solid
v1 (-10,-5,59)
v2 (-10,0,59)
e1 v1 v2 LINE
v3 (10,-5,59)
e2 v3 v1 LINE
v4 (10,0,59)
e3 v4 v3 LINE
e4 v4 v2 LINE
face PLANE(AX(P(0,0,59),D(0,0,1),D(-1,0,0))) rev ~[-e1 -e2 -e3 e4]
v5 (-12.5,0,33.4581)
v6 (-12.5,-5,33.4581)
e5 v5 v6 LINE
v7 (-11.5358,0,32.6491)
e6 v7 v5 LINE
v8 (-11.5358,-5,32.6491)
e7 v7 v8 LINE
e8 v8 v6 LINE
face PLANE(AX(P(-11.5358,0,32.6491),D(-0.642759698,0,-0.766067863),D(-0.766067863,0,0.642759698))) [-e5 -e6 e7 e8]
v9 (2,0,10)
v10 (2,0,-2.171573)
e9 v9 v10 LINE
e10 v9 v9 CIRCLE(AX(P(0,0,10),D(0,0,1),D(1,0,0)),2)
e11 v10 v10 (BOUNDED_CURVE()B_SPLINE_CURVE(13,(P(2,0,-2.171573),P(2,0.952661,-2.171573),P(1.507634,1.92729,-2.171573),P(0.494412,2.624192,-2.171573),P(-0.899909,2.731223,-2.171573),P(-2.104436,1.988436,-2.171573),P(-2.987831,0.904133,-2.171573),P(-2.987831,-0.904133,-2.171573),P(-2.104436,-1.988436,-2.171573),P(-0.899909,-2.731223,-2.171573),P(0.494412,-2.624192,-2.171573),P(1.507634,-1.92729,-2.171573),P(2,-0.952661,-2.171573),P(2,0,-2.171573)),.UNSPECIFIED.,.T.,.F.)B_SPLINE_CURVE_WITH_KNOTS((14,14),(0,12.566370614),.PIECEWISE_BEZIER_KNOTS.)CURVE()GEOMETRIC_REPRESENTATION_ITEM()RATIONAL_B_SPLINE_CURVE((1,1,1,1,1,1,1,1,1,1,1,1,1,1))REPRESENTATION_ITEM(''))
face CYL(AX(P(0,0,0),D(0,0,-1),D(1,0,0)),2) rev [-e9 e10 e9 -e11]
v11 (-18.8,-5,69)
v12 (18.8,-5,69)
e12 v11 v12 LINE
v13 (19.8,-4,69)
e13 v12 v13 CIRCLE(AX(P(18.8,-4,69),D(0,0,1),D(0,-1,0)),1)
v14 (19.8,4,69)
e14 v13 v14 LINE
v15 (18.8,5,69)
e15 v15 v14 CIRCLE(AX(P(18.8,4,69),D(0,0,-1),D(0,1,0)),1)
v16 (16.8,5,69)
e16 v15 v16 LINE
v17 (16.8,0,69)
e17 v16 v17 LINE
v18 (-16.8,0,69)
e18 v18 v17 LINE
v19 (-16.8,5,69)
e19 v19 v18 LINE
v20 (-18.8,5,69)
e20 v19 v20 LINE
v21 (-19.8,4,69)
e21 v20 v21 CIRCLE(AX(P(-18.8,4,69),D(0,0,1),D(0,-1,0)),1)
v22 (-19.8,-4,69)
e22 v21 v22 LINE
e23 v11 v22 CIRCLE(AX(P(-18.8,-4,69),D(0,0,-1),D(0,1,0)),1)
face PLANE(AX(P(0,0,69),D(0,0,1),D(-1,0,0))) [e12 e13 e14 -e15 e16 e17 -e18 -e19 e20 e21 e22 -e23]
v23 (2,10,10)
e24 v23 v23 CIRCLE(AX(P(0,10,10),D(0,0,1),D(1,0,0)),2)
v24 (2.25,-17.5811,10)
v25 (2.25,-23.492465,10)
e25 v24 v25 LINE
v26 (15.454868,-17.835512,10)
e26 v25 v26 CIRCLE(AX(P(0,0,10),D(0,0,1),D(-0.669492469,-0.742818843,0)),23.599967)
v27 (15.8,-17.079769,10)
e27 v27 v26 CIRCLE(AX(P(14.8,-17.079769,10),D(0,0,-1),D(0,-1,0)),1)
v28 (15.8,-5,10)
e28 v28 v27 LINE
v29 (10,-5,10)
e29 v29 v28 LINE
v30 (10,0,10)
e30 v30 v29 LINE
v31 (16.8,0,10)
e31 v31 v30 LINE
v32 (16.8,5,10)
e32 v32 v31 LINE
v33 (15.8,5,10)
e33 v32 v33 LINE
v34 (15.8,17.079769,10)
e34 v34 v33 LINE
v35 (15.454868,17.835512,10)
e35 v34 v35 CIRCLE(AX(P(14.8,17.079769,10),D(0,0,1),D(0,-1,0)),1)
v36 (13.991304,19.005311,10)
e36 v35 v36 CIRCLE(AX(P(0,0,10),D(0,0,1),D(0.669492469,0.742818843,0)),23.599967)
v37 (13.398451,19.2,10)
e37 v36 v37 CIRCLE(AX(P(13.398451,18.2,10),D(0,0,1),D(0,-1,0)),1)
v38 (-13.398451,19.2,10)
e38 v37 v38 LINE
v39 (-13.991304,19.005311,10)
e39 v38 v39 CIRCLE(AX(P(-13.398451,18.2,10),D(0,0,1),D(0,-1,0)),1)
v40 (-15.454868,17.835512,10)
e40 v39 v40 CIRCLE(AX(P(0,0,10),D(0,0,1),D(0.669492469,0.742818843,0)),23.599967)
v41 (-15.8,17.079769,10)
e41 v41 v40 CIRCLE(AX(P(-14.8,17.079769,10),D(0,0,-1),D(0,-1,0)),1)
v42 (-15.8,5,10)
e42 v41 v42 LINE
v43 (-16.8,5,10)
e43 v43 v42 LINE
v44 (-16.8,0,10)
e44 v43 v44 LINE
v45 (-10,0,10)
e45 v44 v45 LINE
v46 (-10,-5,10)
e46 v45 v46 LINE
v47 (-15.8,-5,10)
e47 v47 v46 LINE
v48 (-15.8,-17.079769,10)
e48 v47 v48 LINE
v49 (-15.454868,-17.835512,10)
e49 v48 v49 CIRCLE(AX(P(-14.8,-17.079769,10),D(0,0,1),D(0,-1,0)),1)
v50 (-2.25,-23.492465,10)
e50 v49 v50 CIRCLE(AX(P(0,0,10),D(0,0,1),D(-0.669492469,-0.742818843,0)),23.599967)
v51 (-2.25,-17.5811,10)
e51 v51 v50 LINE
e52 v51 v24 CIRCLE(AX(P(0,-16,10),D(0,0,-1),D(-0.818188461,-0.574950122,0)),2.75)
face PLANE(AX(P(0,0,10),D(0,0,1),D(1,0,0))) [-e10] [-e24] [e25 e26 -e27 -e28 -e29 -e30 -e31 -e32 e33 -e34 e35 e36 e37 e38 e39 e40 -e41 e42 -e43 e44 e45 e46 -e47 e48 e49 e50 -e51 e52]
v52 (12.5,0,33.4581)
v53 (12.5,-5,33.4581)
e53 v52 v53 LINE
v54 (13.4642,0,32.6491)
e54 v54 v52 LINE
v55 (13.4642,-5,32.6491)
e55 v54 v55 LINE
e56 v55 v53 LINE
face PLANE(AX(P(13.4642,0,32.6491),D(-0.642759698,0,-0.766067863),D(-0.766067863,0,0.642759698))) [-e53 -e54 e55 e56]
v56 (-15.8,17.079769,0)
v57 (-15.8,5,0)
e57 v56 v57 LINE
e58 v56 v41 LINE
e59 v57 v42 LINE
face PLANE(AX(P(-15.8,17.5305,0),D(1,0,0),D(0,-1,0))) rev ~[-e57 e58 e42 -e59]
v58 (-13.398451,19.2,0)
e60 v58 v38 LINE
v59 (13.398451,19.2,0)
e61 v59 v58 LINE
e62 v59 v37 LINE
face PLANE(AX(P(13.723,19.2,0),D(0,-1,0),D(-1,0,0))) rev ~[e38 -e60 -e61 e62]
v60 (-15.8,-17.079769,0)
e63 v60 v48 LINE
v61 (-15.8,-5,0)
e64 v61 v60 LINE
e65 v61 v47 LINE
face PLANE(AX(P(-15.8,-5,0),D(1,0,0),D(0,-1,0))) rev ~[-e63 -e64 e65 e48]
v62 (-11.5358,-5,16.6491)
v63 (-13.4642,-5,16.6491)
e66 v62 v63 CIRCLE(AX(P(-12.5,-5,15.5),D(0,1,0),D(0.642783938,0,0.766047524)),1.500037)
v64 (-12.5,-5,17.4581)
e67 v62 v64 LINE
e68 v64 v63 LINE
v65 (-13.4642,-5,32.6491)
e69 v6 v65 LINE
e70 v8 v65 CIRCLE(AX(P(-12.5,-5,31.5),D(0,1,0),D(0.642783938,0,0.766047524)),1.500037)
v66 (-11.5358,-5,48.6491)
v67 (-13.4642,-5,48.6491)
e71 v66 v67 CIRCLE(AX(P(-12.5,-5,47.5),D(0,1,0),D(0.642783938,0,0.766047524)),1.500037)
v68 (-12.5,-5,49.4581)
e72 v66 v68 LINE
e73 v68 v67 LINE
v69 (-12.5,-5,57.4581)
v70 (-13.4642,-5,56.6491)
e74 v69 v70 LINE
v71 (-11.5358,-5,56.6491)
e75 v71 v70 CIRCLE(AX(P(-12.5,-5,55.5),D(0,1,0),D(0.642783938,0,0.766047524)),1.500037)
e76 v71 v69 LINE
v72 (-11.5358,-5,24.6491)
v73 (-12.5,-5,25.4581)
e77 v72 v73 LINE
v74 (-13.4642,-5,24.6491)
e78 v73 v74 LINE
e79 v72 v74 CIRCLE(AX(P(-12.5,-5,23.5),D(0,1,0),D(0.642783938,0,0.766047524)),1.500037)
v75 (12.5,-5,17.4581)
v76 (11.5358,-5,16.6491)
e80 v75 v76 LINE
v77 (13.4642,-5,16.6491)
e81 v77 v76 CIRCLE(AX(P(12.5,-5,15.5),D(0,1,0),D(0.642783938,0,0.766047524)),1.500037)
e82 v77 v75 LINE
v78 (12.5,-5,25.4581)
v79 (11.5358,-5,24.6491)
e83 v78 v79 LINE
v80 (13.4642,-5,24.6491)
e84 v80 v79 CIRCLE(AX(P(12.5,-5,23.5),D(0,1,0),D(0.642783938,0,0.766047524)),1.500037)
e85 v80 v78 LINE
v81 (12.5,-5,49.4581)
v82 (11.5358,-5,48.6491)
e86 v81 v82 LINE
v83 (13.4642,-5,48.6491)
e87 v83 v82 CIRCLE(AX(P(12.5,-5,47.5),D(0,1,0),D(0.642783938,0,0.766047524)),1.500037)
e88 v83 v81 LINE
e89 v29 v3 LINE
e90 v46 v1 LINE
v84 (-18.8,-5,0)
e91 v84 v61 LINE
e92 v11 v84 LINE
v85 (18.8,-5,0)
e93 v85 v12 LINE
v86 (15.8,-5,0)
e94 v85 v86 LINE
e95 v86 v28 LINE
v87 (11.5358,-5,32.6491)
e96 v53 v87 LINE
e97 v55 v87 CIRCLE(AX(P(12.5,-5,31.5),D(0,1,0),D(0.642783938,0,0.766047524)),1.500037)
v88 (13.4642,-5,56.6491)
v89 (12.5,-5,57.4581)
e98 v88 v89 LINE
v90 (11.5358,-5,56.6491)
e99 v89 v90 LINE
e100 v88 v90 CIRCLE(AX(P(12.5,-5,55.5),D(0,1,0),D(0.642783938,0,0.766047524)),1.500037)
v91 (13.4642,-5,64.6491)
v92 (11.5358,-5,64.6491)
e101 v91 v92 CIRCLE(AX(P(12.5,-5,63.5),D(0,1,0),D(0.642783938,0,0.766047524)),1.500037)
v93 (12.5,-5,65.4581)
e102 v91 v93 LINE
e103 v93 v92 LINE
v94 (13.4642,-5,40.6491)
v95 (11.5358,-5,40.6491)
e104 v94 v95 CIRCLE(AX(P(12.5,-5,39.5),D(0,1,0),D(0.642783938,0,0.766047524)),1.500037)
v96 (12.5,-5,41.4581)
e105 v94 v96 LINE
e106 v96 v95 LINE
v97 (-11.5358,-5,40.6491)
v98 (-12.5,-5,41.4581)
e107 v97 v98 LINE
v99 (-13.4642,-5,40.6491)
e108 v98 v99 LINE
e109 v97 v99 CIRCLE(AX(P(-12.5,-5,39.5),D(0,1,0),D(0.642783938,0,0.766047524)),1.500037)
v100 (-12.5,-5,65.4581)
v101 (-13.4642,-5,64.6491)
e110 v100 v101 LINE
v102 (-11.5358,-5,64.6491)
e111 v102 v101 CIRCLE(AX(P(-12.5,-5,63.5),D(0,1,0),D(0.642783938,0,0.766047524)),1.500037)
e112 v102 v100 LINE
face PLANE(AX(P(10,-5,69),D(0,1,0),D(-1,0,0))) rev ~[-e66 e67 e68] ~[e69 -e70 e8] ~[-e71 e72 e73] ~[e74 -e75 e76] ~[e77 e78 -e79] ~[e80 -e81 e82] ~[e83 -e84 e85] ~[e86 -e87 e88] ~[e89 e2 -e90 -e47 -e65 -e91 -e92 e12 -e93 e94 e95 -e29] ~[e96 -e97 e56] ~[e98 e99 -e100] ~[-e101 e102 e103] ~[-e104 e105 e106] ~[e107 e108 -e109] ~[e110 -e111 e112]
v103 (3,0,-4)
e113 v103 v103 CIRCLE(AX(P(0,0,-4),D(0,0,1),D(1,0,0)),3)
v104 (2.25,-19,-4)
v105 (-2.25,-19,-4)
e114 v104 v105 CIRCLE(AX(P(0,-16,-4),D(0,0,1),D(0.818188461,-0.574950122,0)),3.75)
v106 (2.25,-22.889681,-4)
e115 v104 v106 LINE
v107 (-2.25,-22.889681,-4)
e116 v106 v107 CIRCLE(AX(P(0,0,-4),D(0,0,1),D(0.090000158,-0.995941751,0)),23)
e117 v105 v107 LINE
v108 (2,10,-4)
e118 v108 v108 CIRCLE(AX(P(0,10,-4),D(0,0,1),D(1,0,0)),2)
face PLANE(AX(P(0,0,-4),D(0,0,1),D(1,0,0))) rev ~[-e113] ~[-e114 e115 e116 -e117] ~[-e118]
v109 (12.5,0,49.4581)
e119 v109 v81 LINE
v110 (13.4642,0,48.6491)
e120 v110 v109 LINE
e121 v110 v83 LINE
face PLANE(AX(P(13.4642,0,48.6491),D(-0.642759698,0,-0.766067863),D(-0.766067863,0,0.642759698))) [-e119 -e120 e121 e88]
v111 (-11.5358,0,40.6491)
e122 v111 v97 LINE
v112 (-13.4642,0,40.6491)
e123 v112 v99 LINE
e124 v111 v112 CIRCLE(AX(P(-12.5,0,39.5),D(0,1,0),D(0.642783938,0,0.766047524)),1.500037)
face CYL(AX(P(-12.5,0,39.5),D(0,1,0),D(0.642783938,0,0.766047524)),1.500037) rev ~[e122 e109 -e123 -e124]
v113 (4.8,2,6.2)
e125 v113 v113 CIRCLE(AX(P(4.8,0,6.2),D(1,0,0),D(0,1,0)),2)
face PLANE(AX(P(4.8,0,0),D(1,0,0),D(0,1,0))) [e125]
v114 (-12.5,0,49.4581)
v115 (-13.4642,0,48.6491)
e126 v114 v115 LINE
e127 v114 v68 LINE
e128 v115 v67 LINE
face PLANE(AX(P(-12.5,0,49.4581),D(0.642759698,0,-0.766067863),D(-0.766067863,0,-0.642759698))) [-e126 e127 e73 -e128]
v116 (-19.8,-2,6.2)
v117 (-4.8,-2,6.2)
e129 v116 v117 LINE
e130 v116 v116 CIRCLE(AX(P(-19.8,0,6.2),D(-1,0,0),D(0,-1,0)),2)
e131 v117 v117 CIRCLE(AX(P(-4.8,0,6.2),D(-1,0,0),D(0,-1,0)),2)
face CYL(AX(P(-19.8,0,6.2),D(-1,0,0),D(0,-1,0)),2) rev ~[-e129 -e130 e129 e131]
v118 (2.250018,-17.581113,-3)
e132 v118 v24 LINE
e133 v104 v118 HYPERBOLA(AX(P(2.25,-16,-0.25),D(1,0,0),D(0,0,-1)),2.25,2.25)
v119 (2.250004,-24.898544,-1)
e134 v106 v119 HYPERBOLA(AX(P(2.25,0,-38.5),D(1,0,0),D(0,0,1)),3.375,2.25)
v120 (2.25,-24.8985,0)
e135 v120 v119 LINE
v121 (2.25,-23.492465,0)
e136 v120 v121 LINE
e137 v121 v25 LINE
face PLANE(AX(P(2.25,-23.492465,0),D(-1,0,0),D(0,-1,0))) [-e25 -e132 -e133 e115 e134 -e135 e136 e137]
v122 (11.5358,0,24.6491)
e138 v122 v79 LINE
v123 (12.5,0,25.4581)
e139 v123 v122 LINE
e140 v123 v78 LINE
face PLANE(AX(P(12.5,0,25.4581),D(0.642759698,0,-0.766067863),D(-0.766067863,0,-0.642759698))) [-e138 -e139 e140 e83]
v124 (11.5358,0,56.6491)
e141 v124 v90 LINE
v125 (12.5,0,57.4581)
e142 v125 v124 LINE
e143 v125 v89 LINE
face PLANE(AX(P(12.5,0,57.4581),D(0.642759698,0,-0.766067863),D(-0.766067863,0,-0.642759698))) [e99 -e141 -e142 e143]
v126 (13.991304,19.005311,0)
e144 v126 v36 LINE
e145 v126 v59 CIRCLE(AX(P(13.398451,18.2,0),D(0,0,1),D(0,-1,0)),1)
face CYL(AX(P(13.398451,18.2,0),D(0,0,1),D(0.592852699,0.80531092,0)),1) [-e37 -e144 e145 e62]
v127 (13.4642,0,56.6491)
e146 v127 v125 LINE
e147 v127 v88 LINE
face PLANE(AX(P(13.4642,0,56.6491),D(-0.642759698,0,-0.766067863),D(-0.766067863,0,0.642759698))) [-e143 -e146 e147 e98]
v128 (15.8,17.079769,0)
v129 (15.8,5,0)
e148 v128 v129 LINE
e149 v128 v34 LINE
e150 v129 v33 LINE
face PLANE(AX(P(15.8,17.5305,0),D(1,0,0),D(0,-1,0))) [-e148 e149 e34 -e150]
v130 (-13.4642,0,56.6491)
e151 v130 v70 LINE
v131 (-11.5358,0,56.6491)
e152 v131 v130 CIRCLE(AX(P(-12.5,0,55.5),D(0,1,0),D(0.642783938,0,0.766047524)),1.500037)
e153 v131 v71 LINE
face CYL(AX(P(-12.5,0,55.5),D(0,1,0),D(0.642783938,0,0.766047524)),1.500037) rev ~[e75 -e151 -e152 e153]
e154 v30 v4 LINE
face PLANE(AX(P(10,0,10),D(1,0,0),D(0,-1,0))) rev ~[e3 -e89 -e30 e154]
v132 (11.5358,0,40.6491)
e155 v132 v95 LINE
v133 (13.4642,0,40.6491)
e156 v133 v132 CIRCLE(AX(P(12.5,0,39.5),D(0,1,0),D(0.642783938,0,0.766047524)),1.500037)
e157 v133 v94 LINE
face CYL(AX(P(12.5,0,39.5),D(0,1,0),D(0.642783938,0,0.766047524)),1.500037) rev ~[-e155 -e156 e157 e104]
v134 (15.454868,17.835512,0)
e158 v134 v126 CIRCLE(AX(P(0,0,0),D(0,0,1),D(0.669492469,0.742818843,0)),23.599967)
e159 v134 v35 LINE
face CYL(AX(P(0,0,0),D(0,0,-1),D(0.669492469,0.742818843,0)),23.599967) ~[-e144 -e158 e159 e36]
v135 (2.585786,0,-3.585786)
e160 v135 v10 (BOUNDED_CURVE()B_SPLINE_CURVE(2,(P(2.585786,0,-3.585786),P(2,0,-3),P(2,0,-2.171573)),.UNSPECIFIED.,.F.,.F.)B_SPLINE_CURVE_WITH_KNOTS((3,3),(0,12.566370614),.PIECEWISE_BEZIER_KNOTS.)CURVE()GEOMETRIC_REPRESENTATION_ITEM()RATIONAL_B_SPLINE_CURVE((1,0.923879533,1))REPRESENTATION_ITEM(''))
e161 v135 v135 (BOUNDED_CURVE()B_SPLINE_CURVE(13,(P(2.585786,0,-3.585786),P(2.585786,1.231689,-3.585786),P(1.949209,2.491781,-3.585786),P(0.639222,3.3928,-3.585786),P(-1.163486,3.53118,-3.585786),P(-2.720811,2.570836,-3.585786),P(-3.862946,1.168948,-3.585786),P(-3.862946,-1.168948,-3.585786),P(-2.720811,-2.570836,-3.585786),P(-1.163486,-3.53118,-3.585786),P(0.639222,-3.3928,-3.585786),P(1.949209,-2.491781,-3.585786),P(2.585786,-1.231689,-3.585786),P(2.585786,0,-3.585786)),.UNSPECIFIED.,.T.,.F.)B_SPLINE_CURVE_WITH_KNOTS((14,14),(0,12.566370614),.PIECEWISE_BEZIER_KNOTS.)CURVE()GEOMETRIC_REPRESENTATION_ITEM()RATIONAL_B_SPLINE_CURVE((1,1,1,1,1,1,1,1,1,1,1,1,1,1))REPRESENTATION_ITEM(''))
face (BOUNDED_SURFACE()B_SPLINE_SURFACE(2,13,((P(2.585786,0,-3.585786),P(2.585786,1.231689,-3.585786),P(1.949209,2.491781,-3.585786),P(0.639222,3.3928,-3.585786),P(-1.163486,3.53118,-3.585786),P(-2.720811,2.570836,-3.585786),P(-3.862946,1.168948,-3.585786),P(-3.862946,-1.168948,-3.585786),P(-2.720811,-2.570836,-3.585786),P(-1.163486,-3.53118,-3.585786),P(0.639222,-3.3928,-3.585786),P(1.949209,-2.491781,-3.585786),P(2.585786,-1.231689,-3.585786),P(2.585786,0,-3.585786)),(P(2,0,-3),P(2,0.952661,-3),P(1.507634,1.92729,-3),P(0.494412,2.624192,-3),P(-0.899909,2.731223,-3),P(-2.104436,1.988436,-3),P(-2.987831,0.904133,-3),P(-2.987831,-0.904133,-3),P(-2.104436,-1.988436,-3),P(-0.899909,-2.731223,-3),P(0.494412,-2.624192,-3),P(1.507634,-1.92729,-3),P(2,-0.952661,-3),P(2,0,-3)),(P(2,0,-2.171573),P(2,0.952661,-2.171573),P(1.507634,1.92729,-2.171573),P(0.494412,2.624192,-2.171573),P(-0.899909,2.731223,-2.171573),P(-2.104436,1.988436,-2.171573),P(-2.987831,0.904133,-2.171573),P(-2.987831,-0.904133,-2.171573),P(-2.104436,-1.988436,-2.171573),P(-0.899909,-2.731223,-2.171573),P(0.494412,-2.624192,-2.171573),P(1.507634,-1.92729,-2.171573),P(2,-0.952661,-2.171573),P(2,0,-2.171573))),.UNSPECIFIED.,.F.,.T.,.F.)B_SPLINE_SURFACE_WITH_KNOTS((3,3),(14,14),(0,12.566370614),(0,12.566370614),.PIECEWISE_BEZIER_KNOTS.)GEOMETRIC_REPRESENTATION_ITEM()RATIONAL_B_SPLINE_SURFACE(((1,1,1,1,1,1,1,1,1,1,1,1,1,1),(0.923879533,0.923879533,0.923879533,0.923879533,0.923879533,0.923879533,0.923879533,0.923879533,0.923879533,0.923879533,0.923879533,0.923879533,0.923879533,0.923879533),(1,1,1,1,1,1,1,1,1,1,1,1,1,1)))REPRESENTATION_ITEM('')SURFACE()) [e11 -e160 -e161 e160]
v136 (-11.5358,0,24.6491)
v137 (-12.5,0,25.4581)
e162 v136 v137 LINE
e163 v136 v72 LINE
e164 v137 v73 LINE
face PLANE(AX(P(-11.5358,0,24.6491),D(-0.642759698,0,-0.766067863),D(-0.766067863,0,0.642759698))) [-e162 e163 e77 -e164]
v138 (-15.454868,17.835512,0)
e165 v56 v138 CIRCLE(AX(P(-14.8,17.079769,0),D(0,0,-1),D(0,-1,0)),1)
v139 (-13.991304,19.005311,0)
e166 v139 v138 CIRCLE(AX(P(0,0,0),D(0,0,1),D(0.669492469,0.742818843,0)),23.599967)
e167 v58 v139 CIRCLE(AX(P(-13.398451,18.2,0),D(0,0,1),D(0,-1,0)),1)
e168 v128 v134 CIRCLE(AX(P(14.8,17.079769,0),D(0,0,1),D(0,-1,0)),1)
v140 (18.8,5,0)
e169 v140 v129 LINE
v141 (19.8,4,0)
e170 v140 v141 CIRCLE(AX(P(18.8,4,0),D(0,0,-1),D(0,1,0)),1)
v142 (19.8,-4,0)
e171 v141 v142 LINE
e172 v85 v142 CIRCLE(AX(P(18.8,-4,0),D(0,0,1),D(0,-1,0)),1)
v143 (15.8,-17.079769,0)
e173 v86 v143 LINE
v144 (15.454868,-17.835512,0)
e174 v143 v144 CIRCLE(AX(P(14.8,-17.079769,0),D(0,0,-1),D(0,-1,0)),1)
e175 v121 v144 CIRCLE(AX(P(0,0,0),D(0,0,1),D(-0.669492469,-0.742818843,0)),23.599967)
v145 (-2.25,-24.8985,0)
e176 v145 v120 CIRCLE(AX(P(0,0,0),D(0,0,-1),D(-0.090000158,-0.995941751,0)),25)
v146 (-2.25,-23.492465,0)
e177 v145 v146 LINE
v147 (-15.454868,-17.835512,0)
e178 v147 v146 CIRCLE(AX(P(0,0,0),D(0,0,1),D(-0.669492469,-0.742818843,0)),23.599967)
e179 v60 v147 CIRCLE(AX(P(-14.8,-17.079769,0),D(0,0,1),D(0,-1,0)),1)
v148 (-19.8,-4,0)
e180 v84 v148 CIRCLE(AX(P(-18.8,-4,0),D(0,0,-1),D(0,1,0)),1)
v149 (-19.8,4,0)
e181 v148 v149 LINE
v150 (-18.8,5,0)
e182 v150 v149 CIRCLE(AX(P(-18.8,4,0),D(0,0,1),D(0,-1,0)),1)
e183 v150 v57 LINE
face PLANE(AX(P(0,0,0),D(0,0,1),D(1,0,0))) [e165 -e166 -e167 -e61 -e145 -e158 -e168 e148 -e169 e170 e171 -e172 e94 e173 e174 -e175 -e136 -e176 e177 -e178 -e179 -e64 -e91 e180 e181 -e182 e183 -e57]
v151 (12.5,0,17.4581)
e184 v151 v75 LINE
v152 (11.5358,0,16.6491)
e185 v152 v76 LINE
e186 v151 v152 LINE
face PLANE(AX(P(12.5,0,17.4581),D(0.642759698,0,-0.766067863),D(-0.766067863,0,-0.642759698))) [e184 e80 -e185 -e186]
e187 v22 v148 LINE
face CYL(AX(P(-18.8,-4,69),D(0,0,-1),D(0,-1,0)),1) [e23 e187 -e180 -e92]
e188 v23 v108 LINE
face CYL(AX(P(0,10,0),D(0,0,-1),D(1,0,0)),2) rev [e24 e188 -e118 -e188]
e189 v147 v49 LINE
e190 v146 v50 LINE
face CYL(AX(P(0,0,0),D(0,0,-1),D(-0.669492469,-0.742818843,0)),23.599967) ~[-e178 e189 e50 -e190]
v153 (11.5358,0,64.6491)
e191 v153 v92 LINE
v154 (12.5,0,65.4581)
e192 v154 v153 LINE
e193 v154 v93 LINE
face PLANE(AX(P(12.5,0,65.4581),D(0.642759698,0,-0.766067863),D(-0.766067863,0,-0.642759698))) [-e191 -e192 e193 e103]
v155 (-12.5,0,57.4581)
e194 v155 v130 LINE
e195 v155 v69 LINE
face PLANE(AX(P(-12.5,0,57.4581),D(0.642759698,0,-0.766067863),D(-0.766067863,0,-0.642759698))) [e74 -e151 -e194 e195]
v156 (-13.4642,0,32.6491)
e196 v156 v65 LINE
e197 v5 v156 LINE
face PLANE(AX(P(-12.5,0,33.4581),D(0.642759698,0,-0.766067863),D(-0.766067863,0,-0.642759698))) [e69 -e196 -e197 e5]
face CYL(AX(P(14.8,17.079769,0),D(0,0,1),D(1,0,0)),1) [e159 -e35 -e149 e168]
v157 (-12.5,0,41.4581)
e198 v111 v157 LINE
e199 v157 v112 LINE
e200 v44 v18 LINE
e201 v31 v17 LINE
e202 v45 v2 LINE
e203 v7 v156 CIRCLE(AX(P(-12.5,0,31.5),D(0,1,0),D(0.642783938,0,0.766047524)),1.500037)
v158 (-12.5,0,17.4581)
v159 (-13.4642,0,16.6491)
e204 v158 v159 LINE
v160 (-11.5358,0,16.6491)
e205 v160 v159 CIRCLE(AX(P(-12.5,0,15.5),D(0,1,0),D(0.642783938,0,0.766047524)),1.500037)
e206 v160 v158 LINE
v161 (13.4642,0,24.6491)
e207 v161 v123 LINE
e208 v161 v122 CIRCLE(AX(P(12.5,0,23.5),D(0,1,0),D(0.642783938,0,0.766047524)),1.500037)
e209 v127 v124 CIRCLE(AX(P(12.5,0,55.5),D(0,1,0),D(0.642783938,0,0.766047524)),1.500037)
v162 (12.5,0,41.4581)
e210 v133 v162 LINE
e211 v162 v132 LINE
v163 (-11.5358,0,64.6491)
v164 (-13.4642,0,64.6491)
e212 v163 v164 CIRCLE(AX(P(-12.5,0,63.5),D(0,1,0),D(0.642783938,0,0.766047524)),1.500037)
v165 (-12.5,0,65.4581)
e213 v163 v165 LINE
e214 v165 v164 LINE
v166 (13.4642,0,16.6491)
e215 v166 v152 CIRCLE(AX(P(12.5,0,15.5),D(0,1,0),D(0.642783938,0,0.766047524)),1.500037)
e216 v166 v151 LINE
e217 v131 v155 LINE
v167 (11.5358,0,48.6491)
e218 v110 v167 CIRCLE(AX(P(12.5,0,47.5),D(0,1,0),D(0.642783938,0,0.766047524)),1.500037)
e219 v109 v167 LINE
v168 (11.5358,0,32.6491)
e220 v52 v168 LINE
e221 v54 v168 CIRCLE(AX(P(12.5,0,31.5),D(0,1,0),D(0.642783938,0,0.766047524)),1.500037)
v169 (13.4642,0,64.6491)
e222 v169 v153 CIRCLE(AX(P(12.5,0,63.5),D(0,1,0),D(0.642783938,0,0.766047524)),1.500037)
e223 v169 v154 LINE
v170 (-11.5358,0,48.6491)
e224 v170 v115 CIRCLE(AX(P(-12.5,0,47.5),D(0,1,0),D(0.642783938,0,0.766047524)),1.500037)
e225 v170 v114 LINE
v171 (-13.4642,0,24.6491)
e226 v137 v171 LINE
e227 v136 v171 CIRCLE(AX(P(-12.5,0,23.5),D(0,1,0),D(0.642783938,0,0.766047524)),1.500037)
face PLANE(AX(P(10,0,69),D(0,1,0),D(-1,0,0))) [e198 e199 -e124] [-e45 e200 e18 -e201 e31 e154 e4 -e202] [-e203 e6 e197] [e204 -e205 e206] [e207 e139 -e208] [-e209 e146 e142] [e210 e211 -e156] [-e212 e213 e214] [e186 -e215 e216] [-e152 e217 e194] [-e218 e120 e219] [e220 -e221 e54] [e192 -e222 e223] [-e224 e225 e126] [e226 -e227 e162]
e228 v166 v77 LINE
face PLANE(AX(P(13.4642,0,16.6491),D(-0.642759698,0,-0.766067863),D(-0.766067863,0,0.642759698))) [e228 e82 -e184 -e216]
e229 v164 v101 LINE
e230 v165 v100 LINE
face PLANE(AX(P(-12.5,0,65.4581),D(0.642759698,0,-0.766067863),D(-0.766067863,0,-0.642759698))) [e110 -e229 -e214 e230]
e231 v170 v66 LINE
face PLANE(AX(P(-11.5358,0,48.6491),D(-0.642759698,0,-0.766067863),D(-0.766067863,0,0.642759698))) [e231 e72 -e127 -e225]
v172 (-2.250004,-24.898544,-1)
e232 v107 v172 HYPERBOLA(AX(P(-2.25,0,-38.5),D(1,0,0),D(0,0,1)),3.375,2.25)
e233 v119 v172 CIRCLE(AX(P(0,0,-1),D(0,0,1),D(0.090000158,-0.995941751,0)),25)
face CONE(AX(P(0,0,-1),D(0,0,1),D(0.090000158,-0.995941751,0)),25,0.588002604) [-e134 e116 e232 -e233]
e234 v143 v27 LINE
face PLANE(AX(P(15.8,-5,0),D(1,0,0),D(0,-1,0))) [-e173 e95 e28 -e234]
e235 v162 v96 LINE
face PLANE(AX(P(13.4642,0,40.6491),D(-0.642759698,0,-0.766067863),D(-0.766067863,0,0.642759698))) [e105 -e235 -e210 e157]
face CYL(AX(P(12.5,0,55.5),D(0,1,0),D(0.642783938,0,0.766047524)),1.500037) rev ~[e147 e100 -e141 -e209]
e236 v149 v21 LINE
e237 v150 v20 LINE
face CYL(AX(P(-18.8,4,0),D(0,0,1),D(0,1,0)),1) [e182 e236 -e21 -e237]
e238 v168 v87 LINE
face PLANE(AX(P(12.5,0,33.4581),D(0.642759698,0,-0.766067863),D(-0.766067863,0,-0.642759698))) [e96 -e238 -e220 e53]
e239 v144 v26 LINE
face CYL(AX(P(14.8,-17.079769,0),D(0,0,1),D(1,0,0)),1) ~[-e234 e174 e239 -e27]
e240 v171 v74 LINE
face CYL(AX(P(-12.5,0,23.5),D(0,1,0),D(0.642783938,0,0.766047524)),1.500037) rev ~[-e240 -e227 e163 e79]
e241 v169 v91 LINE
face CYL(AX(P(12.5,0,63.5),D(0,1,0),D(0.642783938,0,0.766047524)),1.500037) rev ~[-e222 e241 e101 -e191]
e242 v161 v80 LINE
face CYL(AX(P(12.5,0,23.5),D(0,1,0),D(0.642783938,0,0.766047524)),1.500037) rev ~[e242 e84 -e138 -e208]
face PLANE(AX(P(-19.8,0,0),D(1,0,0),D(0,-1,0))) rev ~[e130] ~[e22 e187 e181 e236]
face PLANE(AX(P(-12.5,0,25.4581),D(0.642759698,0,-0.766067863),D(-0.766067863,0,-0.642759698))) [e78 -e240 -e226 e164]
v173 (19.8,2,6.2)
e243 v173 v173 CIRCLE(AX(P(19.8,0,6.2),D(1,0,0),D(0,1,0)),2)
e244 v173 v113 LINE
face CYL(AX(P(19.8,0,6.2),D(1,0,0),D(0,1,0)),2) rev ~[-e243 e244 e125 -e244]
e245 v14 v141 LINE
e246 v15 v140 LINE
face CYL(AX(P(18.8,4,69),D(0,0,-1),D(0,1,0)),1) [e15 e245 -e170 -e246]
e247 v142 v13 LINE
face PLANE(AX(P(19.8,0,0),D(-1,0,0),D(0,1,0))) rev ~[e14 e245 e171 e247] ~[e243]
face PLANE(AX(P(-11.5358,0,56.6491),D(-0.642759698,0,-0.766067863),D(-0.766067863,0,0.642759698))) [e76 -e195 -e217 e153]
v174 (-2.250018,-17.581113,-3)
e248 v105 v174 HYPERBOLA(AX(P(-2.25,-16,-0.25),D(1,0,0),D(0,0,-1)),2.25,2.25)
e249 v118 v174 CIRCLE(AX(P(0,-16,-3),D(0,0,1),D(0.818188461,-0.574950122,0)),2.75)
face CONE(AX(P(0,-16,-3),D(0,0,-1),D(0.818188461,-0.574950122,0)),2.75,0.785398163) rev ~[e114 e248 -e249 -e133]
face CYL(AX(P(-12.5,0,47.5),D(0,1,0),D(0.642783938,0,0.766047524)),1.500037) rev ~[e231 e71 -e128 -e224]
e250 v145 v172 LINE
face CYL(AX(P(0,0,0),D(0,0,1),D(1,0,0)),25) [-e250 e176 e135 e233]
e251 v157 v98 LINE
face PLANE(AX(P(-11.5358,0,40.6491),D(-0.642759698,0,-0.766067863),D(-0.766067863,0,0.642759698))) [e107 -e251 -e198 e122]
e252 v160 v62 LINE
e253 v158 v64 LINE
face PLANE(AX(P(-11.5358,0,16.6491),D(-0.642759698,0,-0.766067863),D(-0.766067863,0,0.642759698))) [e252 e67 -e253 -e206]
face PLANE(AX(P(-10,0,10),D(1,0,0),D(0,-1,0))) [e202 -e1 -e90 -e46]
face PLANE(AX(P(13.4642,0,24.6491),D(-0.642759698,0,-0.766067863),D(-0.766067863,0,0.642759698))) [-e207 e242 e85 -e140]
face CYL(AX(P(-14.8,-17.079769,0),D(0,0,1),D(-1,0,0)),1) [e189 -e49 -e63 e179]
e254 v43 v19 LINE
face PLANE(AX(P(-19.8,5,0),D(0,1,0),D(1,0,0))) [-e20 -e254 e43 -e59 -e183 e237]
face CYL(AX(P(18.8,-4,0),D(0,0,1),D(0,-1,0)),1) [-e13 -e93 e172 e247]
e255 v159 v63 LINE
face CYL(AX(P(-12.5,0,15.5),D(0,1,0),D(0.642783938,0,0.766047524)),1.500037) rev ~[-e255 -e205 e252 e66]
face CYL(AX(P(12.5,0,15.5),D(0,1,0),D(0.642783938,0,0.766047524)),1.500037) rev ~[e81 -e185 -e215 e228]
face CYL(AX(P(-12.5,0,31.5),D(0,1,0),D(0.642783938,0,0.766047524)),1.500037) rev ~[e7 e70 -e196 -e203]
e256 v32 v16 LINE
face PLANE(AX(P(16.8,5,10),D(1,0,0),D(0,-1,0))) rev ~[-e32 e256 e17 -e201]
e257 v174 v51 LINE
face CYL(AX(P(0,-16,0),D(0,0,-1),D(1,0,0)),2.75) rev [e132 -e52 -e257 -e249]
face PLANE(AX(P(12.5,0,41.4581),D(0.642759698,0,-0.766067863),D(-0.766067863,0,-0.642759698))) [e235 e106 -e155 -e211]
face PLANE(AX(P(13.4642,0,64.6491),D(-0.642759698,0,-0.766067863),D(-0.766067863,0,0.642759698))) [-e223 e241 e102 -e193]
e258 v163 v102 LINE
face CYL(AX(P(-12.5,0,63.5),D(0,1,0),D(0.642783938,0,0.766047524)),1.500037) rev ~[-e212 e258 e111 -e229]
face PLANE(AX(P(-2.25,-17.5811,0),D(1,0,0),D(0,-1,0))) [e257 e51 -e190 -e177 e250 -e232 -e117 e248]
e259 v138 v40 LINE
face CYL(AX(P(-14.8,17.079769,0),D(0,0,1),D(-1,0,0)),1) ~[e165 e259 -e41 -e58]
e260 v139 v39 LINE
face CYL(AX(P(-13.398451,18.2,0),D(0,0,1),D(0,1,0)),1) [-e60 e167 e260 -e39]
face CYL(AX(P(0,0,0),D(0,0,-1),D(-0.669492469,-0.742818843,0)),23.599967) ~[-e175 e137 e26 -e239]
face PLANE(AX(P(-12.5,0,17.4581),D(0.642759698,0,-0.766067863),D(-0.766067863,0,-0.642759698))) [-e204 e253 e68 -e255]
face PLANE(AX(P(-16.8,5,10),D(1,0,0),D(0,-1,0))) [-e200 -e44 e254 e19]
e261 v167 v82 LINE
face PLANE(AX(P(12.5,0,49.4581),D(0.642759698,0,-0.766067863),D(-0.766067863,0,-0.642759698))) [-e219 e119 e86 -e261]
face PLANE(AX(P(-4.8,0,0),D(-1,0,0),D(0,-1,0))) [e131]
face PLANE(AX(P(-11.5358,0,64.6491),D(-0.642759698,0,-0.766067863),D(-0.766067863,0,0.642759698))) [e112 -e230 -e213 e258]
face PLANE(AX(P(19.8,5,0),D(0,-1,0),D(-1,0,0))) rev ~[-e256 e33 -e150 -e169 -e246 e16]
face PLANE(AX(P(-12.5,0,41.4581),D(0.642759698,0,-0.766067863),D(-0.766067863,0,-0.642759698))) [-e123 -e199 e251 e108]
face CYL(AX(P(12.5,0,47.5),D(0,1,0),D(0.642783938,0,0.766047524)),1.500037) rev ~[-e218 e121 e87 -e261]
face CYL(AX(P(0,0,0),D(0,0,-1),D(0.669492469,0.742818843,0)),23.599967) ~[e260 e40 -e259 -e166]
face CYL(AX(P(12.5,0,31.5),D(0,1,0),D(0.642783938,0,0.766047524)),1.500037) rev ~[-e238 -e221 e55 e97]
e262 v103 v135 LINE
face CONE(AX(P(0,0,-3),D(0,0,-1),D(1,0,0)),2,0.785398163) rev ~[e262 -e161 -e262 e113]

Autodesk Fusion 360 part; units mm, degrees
sketch "Schizzo1" plane through (0, 0, 0) normal (0, 0, 1) x (1, 0, 0)
  circle A0 centre (0, 0) radius 25
  line L0 (0, 0) -> (0, 25) construction
  line L1 (0, 0) -> (0, -25) construction
  line L2 (-15.8, 19.3742) -> (-15.8, 17.5305) construction
  line L3 (-15.8, 17.5305) -> (-15.8, -17.5305)
  line L4 (-15.8, -17.5305) -> (-15.8, -19.3742) construction
  line L5 (15.8, 19.3742) -> (15.8, 17.5305) construction
  line L6 (15.8, 17.5305) -> (15.8, -17.5305)
  line L7 (15.8, -17.5305) -> (15.8, -19.3742) construction
  arc A1 (15.8, 17.5305) -> (-15.8, 17.5305) centre (0, 0) ccw
  arc A2 (-15.8, -17.5305) -> (15.8, -17.5305) centre (0, 0) ccw
  line L8 (-15.8, 0) -> (-19.8, 0) construction
  line L9 (15.8, 0) -> (19.8, 0) construction
  line L10 (-19.8, 0) -> (-19.8, 5)
  line L11 (-19.8, 5) -> (-15.8, 5)
  line L12 (-19.8, 0) -> (-19.8, -5)
  line L13 (-19.8, -5) -> (-15.8, -5)
  line L14 (19.8, 0) -> (19.8, 5)
  line L15 (19.8, 5) -> (15.8, 5)
  line L16 (19.8, 0) -> (19.8, -5)
  line L17 (19.8, -5) -> (15.8, -5)
  circle A3 centre (0, 0) radius 2
  circle A4 centre (0, -16) radius 2.75
  circle A5 centre (0, 10) radius 2
  line L18 (13.723, 19.2) -> (-13.723, 19.2)
  line L19 (2.25, -17.5811) -> (2.25, -24.8985)
  line L20 (-2.25, -17.5811) -> (-2.25, -24.8985)
  dimension "d1" = 50
  dimension "d3" = 31.6
  dimension "d4" = 1.4
  dimension "d5" = 10
  dimension "d6" = 4
  dimension "d21" = 4
  dimension "d22" = 5.5
  dimension "d23" = 16
  dimension "d39" = 4
  dimension "d40" = 10
  dimension "d45" = 5.8
  dimension "d48" = 4.5
extrude "Estrusione1" add sketch "Schizzo1" along normal blind 10 contours L3 L6 A1 A2 A4 L18 L19 L20 | L3 L10 L11 L12 L13 | L6 L14 L15 L16 L17
extrude "Estrusione2" add sketch "Schizzo1" against normal blind 4 contours A0 L3 L6 A1 A2 L10 L11 L12 L13 L14 L15 L16 L17 L19 L20 | L3 L6 A1 A2 A4 L18 L19 L20 | L3 L10 L11 L12 L13 | L6 L14 L15 L16 L17 | A1 L18
sketch "Schizzo2" plane through (-19.8, 0, 0) normal (-1, 0, 0) x (0, -1, 0)
  line L0 (-5, 0) -> (5, 0)
  line L1 (5, 0) -> (5, 10)
  line L2 (5, 10) -> (-5, 10)
  line L3 (-5, 10) -> (-5, 0)
  line L4 (0, 0) -> (0, 6.2) construction
  circle A0 centre (0, 6.2) radius 2
  dimension "d11" = 6.2
  dimension "d12" = 4
extrude "Estrusione3" cut sketch "Schizzo2" against normal blind 15 contours A0
sketch "Schizzo3" plane through (19.8, 0, 0) normal (1, 0, 0) x (0, 1, 0)
  line L0 (-5, 0) -> (5, 0)
  line L1 (5, 0) -> (5, 10)
  line L2 (5, 10) -> (-5, 10)
  line L3 (-5, 10) -> (-5, 0)
  circle A0 centre (0, 6.2) radius 2
  circle A1 centre (0, 6.2) radius 2
extrude "Estrusione4" cut sketch "Schizzo3" against normal blind 15 contours A0 A1
chamfer "Smusso1" distance 1 angle 45 2 edges at (0, -13.25, -4) (-1.8647, -0.7232, -4)
chamfer "Smusso3" distance 2 distance2 3 1 edges at (0, 25, -4) measured on face at (-8.7268, -9.7213, -4)
fillet "Raccordo1" radius 2 1 edges at (-1.8647, -0.7232, -3)
sketch "Schizzo7" plane through (0, 0, 10) normal (0, 0, 1) x (-1, 0, 0)
  circle A0 centre (0, 0) radius 2
  circle A1 centre (0, -10) radius 2
  line L0 (-2.25, 17.5811) -> (-2.25, 23.4925)
  arc A2 (-2.25, 23.4925) -> (-15.8, 17.5305) centre (0, 0) ccw
  line L1 (-15.8, 17.5305) -> (-15.8, 5)
  line L2 (-15.8, 5) -> (-19.8, 5)
  line L3 (-19.8, 5) -> (-19.8, -5)
  line L4 (-19.8, -5) -> (-15.8, -5)
  line L5 (-15.8, -5) -> (-15.8, -17.5305)
  arc A3 (-15.8, -17.5305) -> (-13.723, -19.2) centre (0, 0) ccw
  line L6 (-13.723, -19.2) -> (13.723, -19.2)
  arc A4 (13.723, -19.2) -> (15.8, -17.5305) centre (0, 0) ccw
  line L7 (15.8, -17.5305) -> (15.8, -5)
  line L8 (15.8, -5) -> (19.8, -5)
  line L9 (19.8, -5) -> (19.8, 5)
  line L10 (19.8, 5) -> (15.8, 5)
  line L11 (15.8, 5) -> (15.8, 17.5305)
  arc A5 (15.8, 17.5305) -> (2.25, 23.4925) centre (0, 0) ccw
  line L12 (2.25, 23.4925) -> (2.25, 17.5811)
  arc A6 (-2.25, 17.5811) -> (2.25, 17.5811) centre (0, 16) ccw
  line L13 (15.8, -5) -> (16.8, -5)
  line L14 (16.8, -5) -> (16.8, 0)
  line L15 (16.8, 0) -> (10, 0)
  line L16 (10, 0) -> (10, 5)
  line L17 (10, 5) -> (15.8, 5)
  line L18 (-15.8, -5) -> (-16.8, -5)
  line L19 (-16.8, -5) -> (-16.8, 0)
  line L20 (-16.8, 0) -> (-10, 0)
  line L21 (-10, 0) -> (-10, 5)
  line L22 (-10, 5) -> (-15.8, 5)
  dimension "d49" = 3
  dimension "d50" = 20
  dimension "d51" = 5
extrude "Estrusione6" add sketch "Schizzo7" along normal blind 59 contours L2 L3 L4 L19 L20 L21 L22 | L8 L9 L10 L14 L15 L16 L17
sketch "Schizzo8" plane through (0, 0, 69) normal (0, 0, 1) x (-1, 0, 0)
  line L0 (16.8, -5) -> (19.8, -5)
  line L1 (19.8, -5) -> (19.8, 5)
  line L2 (19.8, 5) -> (10, 5)
  line L3 (10, 5) -> (10, 0)
  line L4 (10, 0) -> (16.8, 0)
  line L5 (16.8, 0) -> (16.8, -5)
  line L6 (-10, 5) -> (-19.8, 5)
  line L7 (-19.8, 5) -> (-19.8, -5)
  line L8 (-19.8, -5) -> (-16.8, -5)
  line L9 (-16.8, -5) -> (-16.8, 0)
  line L10 (-16.8, 0) -> (-10, 0)
  line L11 (-10, 0) -> (-10, 5)
  line L12 (-10, 5) -> (10, 5)
  line L13 (-10, 0) -> (10, 0)
extrude "Estrusione7" add sketch "Schizzo8" against normal blind 10 contours L3 L11 L12 L13
sketch "Schizzo9" plane through (0, 0, 0) normal (0, 1, 0) x (-1, 0, 0)
  line L0 (10, 10) -> (16.8, 10)
  line L1 (16.8, 10) -> (16.8, 69)
  line L2 (16.8, 69) -> (-16.8, 69)
  line L3 (-16.8, 69) -> (-16.8, 10)
  line L4 (-16.8, 10) -> (-10, 10)
  line L5 (-10, 10) -> (-10, 59)
  line L6 (-10, 59) -> (10, 59)
  line L7 (10, 59) -> (10, 10)
  line L8 (-12.5, 69) -> (-12.5, 10) construction
  line L9 (0, 69) -> (0, 59) construction
  line L10 (-13.4642, 40.6491) -> (-12.5, 41.4581)
  line L11 (-12.5, 41.4581) -> (-11.5358, 40.6491)
  arc A0 (-13.4642, 40.6491) -> (-11.5358, 40.6491) centre (-12.5, 39.5) ccw
  arc A1 (-13.4642, 16.6491) -> (-11.5358, 16.6491) centre (-12.5, 15.5) ccw
  line L12 (-12.5, 17.4581) -> (-11.5358, 16.6491)
  line L13 (-13.4642, 16.6491) -> (-12.5, 17.4581)
  arc A2 (11.5358, 16.6491) -> (13.4642, 16.6491) centre (12.5, 15.5) ccw
  line L14 (12.5, 17.4581) -> (13.4642, 16.6491)
  line L15 (11.5358, 16.6491) -> (12.5, 17.4581)
  arc A3 (-13.4642, 24.6491) -> (-11.5358, 24.6491) centre (-12.5, 23.5) ccw
  line L16 (-12.5, 25.4581) -> (-11.5358, 24.6491)
  line L17 (-13.4642, 24.6491) -> (-12.5, 25.4581)
  arc A4 (11.5358, 24.6491) -> (13.4642, 24.6491) centre (12.5, 23.5) ccw
  line L18 (12.5, 25.4581) -> (13.4642, 24.6491)
  line L19 (11.5358, 24.6491) -> (12.5, 25.4581)
  arc A5 (-13.4642, 32.6491) -> (-11.5358, 32.6491) centre (-12.5, 31.5) ccw
  line L20 (-12.5, 33.4581) -> (-11.5358, 32.6491)
  line L21 (-13.4642, 32.6491) -> (-12.5, 33.4581)
  arc A6 (11.5358, 32.6491) -> (13.4642, 32.6491) centre (12.5, 31.5) ccw
  line L22 (12.5, 33.4581) -> (13.4642, 32.6491)
  line L23 (11.5358, 32.6491) -> (12.5, 33.4581)
  arc A7 (11.5358, 40.6491) -> (13.4642, 40.6491) centre (12.5, 39.5) ccw
  line L24 (12.5, 41.4581) -> (13.4642, 40.6491)
  line L25 (11.5358, 40.6491) -> (12.5, 41.4581)
  arc A8 (-13.4642, 48.6491) -> (-11.5358, 48.6491) centre (-12.5, 47.5) ccw
  line L26 (-12.5, 49.4581) -> (-11.5358, 48.6491)
  line L27 (-13.4642, 48.6491) -> (-12.5, 49.4581)
  arc A9 (11.5358, 48.6491) -> (13.4642, 48.6491) centre (12.5, 47.5) ccw
  line L28 (12.5, 49.4581) -> (13.4642, 48.6491)
  line L29 (11.5358, 48.6491) -> (12.5, 49.4581)
  arc A10 (-13.4642, 56.6491) -> (-11.5358, 56.6491) centre (-12.5, 55.5) ccw
  line L30 (-12.5, 57.4581) -> (-11.5358, 56.6491)
  line L31 (-13.4642, 56.6491) -> (-12.5, 57.4581)
  arc A11 (11.5358, 56.6491) -> (13.4642, 56.6491) centre (12.5, 55.5) ccw
  line L32 (12.5, 57.4581) -> (13.4642, 56.6491)
  line L33 (11.5358, 56.6491) -> (12.5, 57.4581)
  arc A12 (-13.4642, 64.6491) -> (-11.5358, 64.6491) centre (-12.5, 63.5) ccw
  line L34 (-12.5, 65.4581) -> (-11.5358, 64.6491)
  line L35 (-13.4642, 64.6491) -> (-12.5, 65.4581)
  arc A13 (11.5358, 64.6491) -> (13.4642, 64.6491) centre (12.5, 63.5) ccw
  line L36 (12.5, 65.4581) -> (13.4642, 64.6491)
  line L37 (11.5358, 64.6491) -> (12.5, 65.4581)
  dimension "d57" = 12.5
  dimension "d58" = 50
  dimension "d59" = 1.5
  dimension "d62" = 25
  dimension "d63" = 8
extrude "Estrusione8" cut sketch "Schizzo9" against normal blind 5 contours L10 L11 A0 | A1 L12 L13 | A2 L14 L15 | A3 L16 L17 | A4 L18 L19 | A5 L20 L21 | A6 L22 L23 | A7 L24 L25 | A8 L26 L27 | A9 L28 L29 | A10 L30 L31 | A11 L32 L33 | A12 L34 L35 | A13 L36 L37
fillet "Raccordo5" radius 1 4 edges at (19.8, -5, 34.5) (19.8, 5, 34.5) (-19.8, -5, 34.5) (-19.8, 5, 34.5)
fillet "Raccordo6" radius 1 6 edges at (15.8, -17.5305, 5) (13.723, 19.2, 5) (15.8, 17.5305, 5) (-15.8, 17.5305, 5) (-13.723, 19.2, 5) (-15.8, -17.5305, 5)
component "Component" placed x (1, 0, 0) y (0, 1, 0) z (0, 0, 1) at (0, 0, 0)
